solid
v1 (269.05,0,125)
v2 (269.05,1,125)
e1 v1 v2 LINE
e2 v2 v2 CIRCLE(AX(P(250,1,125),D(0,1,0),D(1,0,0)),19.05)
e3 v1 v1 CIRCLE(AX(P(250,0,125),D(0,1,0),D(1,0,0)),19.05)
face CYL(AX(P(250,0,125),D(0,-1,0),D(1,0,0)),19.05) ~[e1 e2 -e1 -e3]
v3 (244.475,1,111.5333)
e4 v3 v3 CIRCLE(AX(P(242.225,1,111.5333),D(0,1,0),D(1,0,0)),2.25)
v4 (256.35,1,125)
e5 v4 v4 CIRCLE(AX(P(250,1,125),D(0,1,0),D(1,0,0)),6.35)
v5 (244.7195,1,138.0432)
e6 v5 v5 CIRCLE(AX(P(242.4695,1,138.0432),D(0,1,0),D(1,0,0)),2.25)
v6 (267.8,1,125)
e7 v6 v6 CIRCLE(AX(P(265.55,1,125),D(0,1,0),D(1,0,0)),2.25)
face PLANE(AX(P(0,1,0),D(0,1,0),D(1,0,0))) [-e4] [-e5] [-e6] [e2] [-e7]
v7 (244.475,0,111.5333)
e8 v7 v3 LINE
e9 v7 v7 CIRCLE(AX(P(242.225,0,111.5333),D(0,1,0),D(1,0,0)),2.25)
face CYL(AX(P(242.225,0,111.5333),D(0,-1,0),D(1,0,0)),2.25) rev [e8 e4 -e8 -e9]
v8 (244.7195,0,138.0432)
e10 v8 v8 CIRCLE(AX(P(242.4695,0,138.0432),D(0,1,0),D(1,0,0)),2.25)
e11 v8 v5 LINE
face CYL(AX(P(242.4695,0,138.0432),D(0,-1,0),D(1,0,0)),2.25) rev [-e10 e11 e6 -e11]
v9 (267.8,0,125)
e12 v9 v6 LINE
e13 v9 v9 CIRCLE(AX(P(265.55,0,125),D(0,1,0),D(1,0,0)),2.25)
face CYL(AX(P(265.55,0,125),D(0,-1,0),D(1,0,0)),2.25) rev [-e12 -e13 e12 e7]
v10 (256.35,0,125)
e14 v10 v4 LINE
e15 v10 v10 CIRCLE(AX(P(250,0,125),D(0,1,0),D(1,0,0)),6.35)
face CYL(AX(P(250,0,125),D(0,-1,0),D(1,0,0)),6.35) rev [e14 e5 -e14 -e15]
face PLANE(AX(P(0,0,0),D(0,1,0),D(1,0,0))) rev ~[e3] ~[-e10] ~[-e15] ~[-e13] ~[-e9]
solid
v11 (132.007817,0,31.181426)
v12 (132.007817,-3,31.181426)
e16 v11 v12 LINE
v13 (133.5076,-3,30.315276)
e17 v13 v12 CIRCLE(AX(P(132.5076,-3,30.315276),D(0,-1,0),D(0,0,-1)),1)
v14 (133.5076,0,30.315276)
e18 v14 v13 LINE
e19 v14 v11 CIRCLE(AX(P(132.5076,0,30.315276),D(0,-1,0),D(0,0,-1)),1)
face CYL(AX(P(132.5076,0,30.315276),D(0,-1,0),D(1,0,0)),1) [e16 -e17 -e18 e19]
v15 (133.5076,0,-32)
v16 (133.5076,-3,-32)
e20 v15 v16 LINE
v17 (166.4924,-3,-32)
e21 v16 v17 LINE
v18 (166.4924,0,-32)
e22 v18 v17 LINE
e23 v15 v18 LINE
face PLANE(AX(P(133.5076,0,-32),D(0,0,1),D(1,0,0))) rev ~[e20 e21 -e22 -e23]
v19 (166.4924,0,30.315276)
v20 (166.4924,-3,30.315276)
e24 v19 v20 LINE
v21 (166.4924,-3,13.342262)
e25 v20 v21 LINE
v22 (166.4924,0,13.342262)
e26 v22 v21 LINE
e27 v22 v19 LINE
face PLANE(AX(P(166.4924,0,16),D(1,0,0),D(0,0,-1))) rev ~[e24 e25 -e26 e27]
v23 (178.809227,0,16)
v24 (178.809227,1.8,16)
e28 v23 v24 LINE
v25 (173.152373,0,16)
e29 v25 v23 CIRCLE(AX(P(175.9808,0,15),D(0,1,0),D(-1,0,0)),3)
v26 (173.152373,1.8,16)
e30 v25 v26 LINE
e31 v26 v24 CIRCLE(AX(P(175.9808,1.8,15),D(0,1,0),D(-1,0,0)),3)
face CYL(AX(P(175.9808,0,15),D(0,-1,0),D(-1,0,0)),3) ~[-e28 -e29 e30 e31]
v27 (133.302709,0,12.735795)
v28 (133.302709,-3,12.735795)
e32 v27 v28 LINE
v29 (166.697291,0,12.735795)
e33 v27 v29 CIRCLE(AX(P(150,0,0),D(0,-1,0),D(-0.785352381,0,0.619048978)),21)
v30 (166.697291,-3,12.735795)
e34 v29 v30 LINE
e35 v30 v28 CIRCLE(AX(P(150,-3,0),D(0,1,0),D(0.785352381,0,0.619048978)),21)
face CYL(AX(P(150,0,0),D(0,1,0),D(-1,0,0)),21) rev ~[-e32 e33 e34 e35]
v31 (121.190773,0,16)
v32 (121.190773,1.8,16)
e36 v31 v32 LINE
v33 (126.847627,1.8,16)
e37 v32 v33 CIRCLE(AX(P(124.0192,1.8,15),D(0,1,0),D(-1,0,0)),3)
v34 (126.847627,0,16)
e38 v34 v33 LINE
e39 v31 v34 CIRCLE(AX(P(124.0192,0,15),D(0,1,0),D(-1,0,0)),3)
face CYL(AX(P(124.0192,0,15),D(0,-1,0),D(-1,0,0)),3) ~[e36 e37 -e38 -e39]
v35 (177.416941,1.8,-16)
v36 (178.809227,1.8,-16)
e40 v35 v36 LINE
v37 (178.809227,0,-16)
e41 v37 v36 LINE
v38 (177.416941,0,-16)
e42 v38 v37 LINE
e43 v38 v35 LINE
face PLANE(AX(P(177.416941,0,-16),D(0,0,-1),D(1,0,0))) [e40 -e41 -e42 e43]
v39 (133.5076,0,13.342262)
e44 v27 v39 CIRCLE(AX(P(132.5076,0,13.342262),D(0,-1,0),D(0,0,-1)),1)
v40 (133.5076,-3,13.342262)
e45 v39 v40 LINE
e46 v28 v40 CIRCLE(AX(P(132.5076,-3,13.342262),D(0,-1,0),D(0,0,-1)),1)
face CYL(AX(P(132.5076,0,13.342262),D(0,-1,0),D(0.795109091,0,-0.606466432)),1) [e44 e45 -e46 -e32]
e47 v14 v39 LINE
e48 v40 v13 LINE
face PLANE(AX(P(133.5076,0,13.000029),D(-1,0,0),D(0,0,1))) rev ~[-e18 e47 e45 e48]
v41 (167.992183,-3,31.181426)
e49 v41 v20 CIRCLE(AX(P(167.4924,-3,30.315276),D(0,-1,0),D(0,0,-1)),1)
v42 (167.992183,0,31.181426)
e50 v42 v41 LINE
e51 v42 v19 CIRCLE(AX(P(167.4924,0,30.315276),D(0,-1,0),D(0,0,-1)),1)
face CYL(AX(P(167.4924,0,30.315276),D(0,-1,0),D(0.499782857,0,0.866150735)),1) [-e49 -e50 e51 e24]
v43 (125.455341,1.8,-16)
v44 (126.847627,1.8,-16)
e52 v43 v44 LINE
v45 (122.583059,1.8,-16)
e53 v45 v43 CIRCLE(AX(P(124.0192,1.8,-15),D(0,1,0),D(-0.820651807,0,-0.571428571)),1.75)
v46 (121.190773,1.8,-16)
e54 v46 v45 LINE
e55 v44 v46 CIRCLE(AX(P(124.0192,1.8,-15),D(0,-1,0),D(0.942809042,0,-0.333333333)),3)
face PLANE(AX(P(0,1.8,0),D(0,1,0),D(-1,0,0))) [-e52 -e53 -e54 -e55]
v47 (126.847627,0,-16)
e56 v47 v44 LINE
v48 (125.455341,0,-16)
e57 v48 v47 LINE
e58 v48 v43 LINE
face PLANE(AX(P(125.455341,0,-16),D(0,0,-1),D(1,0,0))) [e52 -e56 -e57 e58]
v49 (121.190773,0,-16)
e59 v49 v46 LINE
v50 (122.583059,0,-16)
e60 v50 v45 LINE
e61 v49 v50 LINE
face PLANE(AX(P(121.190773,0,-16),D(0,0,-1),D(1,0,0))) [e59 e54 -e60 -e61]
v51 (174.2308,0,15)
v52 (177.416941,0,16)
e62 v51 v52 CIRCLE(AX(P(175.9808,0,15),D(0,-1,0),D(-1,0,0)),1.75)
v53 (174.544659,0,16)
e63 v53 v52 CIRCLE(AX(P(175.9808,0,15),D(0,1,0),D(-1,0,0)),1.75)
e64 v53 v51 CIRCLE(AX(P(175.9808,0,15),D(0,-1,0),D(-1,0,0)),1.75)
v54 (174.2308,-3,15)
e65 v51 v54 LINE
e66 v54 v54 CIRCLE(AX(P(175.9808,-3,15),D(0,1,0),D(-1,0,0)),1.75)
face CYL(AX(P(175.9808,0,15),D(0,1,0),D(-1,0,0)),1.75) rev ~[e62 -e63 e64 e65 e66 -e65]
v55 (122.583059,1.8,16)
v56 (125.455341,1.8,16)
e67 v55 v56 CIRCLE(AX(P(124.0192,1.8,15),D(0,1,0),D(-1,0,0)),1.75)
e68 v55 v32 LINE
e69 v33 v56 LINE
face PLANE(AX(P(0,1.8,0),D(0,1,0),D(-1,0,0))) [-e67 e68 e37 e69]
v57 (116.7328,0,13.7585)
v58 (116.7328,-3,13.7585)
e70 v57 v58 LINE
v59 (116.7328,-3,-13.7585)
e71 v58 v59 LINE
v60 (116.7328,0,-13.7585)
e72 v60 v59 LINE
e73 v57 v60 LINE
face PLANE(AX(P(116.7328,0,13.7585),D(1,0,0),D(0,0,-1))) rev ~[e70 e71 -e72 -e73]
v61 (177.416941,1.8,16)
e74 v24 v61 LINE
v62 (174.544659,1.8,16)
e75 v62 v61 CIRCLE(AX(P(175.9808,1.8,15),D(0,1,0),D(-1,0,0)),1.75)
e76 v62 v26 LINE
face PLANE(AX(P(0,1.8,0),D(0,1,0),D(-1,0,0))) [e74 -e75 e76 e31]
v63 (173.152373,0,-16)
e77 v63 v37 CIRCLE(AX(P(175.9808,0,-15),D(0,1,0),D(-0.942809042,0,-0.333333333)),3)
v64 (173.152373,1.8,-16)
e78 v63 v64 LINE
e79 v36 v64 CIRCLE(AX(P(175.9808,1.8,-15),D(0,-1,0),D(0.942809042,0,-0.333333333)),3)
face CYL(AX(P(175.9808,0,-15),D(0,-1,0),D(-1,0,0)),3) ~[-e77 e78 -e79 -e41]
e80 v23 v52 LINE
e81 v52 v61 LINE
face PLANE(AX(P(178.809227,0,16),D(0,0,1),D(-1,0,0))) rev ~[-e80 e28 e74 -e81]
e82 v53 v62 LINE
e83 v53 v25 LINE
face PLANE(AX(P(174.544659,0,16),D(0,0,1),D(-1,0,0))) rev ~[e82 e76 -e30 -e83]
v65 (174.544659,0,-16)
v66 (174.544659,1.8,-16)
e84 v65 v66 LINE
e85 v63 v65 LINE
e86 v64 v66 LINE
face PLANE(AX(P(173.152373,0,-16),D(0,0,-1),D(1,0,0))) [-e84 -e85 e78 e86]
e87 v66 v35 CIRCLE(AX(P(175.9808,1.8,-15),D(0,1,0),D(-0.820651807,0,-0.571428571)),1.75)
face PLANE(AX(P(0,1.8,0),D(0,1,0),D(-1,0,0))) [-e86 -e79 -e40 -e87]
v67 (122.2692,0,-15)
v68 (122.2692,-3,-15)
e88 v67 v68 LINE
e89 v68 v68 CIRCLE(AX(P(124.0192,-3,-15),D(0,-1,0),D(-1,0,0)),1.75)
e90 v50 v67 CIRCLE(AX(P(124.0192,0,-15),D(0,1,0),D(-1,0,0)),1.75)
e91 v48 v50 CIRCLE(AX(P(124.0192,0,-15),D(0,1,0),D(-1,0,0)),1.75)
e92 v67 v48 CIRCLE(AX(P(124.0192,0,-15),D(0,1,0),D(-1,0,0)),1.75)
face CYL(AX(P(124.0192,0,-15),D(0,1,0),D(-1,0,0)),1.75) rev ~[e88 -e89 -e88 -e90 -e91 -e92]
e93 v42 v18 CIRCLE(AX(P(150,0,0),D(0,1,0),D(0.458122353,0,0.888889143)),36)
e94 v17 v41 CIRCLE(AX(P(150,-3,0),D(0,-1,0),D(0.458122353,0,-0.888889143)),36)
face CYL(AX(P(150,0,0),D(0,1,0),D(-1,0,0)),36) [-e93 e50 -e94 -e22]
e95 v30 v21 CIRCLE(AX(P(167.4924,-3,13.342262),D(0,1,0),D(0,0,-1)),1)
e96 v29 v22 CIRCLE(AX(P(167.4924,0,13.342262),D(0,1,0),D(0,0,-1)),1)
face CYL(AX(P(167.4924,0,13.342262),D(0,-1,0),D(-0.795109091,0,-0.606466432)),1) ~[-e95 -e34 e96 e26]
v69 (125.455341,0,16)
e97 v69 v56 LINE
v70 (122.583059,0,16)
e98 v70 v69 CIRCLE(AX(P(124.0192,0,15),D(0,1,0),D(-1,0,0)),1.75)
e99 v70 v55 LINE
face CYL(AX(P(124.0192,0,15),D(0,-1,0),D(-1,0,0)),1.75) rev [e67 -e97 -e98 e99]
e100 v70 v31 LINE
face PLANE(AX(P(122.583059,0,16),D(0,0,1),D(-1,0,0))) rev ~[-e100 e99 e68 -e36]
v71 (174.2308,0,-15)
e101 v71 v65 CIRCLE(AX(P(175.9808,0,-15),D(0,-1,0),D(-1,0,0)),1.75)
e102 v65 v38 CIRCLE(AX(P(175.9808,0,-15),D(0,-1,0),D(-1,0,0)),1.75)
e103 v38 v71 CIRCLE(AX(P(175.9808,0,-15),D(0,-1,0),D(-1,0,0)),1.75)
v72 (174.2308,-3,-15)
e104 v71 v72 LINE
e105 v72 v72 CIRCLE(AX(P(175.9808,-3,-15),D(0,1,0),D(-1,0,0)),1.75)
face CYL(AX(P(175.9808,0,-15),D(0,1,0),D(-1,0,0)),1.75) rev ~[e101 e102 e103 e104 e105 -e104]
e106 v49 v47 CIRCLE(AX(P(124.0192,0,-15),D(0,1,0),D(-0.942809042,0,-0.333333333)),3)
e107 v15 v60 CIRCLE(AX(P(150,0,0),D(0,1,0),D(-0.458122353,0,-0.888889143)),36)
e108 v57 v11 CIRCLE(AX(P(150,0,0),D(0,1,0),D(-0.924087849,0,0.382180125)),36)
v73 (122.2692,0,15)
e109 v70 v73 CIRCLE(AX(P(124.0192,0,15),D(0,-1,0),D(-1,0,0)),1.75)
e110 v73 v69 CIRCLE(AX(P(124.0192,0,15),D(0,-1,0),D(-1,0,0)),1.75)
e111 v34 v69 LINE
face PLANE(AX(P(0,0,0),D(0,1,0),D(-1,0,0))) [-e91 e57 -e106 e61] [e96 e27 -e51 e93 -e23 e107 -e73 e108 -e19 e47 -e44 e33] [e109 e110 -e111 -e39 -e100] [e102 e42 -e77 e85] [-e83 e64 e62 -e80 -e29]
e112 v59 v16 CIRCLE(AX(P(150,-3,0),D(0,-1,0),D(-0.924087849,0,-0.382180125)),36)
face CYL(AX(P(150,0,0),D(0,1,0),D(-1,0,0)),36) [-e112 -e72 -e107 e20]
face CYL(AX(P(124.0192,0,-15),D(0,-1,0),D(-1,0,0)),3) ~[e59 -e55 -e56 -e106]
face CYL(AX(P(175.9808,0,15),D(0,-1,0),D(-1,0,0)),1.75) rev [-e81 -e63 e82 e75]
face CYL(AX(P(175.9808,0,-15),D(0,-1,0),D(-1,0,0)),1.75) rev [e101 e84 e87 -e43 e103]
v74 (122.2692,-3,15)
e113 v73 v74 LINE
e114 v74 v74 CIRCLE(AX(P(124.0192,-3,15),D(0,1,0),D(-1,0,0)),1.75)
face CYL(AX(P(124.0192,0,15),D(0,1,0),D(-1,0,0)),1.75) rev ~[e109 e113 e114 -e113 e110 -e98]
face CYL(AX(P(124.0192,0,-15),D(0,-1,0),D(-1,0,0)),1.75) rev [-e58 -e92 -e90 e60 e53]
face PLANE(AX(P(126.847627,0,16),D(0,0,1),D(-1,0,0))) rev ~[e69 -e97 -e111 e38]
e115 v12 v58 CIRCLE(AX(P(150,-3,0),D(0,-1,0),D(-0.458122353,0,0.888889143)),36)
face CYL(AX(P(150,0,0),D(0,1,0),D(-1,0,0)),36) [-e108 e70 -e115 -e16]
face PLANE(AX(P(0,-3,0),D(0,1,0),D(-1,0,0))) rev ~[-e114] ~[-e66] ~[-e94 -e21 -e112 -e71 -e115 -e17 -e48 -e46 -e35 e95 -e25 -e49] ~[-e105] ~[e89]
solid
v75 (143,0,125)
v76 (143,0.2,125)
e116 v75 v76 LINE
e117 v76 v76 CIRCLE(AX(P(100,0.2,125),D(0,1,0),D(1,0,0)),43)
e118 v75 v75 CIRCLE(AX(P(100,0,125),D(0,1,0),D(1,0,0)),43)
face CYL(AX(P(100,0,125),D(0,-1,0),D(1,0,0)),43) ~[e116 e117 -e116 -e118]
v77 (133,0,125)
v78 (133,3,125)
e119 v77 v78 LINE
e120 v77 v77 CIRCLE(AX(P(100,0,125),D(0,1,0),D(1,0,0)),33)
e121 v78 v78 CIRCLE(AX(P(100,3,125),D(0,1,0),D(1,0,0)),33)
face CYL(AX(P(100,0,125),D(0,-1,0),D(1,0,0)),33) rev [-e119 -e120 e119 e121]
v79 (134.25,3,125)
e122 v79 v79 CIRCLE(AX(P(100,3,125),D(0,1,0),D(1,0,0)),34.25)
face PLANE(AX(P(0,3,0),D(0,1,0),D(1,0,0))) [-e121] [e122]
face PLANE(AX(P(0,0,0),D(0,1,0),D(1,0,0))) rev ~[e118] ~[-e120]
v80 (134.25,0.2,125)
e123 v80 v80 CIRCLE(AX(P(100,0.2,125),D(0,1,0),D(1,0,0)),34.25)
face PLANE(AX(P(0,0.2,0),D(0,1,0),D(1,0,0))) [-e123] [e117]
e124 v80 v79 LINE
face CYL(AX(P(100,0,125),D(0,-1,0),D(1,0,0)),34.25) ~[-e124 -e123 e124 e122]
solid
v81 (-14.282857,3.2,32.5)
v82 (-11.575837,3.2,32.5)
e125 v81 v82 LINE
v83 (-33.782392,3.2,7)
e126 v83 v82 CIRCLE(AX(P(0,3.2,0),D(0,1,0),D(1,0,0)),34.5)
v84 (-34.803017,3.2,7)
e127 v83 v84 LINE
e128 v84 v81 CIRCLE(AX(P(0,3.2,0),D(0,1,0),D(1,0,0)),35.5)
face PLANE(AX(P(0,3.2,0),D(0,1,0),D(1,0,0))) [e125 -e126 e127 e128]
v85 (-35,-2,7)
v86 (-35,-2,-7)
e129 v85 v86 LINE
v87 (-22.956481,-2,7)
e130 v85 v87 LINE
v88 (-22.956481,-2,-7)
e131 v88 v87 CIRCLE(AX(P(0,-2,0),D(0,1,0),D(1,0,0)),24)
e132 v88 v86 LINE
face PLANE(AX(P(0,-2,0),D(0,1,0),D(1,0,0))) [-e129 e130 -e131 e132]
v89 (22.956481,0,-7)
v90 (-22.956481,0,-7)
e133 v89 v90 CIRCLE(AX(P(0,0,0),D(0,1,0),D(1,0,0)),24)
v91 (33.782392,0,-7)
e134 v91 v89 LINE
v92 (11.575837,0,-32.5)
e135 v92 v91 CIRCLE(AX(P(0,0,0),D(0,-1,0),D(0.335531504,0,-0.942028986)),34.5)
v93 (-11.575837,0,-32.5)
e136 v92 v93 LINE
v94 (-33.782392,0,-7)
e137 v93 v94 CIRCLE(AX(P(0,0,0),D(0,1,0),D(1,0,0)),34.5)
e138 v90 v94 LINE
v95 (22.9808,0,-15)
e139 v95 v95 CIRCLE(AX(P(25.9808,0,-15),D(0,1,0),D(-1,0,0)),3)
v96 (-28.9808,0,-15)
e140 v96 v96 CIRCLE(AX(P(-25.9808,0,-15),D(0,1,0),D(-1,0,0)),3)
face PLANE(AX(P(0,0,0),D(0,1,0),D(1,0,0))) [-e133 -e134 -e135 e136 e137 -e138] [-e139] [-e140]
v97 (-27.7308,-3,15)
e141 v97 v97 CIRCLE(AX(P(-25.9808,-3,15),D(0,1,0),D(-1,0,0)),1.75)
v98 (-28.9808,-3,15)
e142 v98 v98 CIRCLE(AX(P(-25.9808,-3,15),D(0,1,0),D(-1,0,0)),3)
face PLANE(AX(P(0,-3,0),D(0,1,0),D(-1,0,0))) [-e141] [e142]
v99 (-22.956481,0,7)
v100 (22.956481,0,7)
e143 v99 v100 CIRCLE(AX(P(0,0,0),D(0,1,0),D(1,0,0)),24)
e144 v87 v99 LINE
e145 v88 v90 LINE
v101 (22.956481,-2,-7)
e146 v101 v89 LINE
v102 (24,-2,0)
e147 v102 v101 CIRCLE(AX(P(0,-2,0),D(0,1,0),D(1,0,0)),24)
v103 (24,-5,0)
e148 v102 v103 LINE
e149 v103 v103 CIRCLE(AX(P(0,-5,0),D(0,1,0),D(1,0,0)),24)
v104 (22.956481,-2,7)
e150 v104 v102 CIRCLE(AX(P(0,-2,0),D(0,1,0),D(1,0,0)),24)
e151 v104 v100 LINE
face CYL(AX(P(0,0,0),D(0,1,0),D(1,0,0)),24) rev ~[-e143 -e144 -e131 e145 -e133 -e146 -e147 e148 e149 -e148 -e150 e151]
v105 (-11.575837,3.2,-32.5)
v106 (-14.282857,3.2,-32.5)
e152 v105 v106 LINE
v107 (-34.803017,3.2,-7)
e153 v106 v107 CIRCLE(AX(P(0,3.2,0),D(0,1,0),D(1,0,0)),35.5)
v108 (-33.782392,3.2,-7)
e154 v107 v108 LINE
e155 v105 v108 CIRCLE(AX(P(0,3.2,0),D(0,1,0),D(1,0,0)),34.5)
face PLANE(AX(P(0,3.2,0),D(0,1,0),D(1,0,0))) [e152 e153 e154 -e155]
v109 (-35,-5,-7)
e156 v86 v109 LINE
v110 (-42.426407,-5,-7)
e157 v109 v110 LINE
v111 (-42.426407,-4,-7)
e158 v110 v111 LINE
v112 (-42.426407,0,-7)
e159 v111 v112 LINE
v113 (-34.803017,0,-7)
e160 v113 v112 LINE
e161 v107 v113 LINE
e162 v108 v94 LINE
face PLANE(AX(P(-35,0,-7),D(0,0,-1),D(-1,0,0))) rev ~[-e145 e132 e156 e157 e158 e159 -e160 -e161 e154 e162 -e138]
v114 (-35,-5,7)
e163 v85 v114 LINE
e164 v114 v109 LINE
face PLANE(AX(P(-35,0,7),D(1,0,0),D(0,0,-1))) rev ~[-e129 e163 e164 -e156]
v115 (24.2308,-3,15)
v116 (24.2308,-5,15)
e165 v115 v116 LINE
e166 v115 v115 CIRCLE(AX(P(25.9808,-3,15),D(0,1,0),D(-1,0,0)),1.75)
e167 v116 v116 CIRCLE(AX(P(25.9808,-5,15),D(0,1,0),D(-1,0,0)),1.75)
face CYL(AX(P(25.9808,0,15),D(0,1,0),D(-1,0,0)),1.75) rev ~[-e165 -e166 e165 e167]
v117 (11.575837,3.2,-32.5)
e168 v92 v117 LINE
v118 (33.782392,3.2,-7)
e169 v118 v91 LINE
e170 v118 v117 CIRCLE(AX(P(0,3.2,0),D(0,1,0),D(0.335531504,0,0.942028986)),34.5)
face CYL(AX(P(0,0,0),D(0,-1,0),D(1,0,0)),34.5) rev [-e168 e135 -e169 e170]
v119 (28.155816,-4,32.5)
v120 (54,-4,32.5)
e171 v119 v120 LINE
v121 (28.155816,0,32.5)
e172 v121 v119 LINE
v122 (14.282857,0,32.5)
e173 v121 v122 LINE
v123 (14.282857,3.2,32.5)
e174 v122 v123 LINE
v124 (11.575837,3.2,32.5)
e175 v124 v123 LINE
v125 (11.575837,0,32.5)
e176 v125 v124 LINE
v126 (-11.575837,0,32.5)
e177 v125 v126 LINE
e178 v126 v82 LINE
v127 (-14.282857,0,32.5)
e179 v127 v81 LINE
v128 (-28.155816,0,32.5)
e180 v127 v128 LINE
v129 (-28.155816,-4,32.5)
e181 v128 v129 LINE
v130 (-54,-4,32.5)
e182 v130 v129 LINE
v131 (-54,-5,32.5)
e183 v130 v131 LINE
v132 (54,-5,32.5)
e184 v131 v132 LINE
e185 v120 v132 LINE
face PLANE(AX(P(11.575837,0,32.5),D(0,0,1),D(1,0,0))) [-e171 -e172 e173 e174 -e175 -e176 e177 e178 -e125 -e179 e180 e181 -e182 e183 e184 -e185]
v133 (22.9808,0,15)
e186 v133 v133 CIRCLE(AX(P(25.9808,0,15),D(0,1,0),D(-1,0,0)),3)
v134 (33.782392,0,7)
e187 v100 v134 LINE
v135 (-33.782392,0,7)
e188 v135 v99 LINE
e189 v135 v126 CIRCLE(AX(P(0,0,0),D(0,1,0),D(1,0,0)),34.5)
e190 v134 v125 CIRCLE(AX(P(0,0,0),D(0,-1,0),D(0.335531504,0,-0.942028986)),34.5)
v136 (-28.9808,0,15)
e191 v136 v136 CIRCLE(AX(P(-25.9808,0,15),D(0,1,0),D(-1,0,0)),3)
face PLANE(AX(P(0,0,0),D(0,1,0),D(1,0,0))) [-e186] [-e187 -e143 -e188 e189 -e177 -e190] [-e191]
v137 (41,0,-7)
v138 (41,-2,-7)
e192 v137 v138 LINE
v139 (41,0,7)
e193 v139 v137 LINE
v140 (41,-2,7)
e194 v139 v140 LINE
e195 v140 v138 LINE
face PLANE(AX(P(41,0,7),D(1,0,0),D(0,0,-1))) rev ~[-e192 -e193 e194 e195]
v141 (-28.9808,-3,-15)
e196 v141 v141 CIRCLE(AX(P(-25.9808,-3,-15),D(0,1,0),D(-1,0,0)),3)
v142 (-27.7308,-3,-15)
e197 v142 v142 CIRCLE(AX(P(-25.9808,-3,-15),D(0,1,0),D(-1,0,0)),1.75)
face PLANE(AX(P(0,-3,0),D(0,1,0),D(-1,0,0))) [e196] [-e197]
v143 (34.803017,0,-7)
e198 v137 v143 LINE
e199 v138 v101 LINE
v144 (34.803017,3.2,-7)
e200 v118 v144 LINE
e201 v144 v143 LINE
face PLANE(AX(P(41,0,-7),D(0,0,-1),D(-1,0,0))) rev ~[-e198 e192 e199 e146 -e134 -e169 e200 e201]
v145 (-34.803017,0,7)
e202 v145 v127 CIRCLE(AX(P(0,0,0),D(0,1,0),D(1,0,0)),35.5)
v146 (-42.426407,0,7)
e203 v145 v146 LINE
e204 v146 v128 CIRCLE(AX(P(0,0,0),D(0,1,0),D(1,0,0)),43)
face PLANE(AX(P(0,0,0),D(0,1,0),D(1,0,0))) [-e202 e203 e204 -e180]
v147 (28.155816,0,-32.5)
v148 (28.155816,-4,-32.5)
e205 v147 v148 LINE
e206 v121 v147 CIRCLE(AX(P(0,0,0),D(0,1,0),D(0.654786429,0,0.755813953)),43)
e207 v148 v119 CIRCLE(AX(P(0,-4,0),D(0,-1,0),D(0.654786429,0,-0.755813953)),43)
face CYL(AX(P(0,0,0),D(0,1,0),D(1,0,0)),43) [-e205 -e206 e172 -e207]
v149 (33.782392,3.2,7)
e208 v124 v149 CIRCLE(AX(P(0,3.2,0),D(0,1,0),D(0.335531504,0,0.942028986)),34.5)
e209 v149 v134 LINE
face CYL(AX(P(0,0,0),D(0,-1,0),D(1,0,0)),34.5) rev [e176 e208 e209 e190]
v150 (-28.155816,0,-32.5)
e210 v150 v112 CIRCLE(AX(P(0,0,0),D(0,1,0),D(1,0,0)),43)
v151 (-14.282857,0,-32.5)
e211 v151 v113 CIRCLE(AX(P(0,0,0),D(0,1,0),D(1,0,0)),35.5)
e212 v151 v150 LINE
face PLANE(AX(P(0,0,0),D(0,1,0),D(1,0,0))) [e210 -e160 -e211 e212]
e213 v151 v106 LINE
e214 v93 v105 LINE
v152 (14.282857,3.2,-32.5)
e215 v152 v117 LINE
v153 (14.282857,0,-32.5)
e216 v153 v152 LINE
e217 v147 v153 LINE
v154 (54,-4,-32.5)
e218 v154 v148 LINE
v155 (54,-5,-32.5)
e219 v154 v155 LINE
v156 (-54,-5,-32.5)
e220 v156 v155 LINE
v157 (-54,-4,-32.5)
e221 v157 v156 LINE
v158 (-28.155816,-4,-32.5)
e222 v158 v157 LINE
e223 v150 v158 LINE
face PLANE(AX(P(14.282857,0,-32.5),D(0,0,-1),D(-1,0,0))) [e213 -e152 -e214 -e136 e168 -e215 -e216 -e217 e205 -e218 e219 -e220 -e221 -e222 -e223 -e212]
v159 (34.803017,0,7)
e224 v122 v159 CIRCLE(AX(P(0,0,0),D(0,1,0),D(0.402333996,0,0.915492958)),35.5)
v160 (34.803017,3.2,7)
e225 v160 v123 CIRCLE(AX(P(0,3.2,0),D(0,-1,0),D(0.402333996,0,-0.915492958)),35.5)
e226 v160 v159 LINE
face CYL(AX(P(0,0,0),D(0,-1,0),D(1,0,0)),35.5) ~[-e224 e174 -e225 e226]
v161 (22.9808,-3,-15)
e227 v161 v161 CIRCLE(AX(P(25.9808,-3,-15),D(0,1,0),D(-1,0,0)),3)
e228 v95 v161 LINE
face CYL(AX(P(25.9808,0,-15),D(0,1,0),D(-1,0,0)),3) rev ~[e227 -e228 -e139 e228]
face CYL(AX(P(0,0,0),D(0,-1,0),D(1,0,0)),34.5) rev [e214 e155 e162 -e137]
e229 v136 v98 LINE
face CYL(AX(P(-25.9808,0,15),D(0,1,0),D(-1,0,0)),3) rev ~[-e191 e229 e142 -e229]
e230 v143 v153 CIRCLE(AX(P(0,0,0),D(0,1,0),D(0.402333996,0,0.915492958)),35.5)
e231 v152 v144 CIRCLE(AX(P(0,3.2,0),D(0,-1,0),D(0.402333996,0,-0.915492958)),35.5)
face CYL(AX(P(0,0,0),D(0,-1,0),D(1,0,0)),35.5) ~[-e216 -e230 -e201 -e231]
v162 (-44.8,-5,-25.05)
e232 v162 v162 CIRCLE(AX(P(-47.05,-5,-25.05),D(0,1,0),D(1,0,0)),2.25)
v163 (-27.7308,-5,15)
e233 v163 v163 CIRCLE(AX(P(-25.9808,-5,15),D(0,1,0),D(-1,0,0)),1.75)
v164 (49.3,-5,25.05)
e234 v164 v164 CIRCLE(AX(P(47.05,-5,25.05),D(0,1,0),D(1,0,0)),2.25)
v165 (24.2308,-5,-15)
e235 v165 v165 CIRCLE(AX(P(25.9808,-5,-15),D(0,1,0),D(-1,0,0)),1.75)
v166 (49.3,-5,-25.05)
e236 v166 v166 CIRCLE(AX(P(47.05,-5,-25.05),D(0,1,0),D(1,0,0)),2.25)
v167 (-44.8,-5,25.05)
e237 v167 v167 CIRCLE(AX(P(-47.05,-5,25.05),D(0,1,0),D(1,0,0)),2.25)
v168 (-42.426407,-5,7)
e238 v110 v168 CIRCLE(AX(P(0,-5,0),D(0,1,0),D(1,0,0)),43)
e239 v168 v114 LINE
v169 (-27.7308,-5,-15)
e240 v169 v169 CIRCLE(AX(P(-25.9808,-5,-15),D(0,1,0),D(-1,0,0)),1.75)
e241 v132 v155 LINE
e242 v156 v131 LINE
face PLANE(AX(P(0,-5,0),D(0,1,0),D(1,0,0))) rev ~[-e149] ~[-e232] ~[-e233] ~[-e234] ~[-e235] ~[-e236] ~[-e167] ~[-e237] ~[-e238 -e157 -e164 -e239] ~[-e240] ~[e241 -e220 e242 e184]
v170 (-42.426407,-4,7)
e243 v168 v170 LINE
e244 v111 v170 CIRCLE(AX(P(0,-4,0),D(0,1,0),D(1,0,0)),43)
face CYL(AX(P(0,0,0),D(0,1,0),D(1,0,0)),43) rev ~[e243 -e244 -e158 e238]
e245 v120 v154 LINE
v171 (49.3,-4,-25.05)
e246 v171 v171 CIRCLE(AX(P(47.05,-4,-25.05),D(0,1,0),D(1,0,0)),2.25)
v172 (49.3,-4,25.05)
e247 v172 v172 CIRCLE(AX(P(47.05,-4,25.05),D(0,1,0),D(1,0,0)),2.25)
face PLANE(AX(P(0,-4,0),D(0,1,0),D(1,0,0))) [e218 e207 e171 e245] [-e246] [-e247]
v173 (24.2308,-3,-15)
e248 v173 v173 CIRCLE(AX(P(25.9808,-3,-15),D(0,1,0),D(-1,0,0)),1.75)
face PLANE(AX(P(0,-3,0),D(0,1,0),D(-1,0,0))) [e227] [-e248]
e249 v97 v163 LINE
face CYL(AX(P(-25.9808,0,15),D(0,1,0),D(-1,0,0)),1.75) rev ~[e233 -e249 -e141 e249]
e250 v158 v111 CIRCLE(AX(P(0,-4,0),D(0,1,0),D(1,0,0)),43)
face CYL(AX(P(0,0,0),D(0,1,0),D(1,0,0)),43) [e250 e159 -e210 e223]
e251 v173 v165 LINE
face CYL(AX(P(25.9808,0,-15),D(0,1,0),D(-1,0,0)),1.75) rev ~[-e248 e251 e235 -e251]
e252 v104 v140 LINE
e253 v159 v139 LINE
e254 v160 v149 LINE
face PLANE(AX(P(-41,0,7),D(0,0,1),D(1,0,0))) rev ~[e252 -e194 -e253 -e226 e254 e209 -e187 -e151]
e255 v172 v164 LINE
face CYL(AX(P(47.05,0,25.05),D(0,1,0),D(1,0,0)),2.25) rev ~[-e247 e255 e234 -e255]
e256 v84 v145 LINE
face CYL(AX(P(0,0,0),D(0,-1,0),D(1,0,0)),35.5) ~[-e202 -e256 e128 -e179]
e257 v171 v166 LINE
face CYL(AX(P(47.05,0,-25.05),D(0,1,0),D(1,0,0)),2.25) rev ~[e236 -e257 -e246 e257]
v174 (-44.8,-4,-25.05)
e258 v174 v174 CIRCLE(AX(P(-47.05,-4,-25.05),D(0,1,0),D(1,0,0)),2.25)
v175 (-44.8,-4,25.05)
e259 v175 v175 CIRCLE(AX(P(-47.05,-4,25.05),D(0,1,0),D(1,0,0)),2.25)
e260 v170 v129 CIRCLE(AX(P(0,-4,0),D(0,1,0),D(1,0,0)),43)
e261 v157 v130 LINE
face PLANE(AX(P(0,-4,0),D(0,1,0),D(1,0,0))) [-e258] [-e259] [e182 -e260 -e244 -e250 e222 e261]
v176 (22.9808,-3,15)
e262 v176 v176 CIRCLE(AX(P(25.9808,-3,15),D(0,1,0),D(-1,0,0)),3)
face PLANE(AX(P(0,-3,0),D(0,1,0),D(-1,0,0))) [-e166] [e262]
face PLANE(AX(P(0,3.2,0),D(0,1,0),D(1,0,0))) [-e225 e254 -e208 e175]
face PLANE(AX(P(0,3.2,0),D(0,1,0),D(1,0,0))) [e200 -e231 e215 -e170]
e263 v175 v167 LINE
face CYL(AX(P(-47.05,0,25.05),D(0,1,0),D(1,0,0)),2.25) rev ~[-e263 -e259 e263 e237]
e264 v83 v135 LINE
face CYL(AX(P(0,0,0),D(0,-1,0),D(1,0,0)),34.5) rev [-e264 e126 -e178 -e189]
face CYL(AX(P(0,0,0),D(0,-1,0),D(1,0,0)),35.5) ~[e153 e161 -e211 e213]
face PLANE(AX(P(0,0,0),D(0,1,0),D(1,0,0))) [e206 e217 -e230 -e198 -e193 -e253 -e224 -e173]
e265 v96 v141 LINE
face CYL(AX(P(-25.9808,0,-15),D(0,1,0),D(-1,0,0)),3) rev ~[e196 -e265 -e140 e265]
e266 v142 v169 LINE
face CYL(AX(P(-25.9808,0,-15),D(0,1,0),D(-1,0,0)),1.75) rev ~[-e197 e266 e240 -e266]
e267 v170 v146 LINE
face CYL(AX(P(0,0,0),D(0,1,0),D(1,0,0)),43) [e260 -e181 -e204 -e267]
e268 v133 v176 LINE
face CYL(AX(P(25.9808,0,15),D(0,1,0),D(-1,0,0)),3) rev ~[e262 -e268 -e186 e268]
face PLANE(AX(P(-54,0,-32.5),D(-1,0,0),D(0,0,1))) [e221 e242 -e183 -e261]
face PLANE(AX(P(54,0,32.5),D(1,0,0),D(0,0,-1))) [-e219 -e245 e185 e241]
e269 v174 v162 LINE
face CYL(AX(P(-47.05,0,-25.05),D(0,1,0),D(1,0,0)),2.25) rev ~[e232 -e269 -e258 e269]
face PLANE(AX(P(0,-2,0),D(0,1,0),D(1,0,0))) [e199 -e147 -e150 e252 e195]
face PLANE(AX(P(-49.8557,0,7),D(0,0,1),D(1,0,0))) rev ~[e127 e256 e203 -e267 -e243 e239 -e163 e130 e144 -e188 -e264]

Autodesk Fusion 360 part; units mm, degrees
sketch "Esquisse1" plane through (0, 0, 0) normal (0, 1, 0) x (1, 0, 0)
  circle A0 centre (0, 0) radius 35.5
  circle A1 centre (0, 0) radius 34.5
  circle A2 centre (0, 0) radius 24
  circle A3 centre (0, 0) radius 43
  line L0 (-54, -32.5) -> (54, -32.5)
  line L1 (54, -32.5) -> (54, 32.5)
  line L2 (54, 32.5) -> (-54, 32.5)
  line L3 (-54, 32.5) -> (-54, -32.5)
  line L4 (-54, -32.5) -> (54, 32.5) construction
  line L5 (54, -32.5) -> (-54, 32.5) construction
  line L6 (-54, -32.5) -> (-44.8, -32.5) construction
  line L7 (-44.8, -32.5) -> (-44.8, -22.8) construction
  line L8 (-44.8, -22.8) -> (-54, -22.8) construction
  circle A4 centre (-47.05, -25.05) radius 2.25
  line L9 (-54, 0) -> (54, 0) construction
  line L10 (0, 32.5) -> (0, -32.5) construction
  circle A5 centre (-47.05, 25.05) radius 2.25
  circle A6 centre (47.05, 25.05) radius 2.25
  circle A7 centre (47.05, -25.05) radius 2.25
  dimension "d1" = 71
  dimension "d2" = 69
  dimension "d3" = 48
  dimension "d4" = 86
  dimension "d30" = 65
  dimension "d85" = 108
  dimension "d86" = 9.2
  dimension "d87" = 9.7
  dimension "d88" = 2.25
extrude "Extrusion1" add sketch "Esquisse1" against normal blind 5 contours A0 A1 L0 L2 | A0 A3 L0 L2 | A0 A1 L0 L2 | A0 A3 L0 L2 | A1 L0 L2 makes body 1
extrude "Extrusion2" add sketch "Esquisse1" along normal blind 3.2 contours A0 A1 L0 L2 | A0 A1 L0 L2 bodies 1
sketch "Esquisse2" plane through (0, 0, 0) normal (0, 1, 0) x (1, 0, 0)
  line L0 (41, 7) -> (-41, 7)
  line L1 (-41, 7) -> (-41, -7)
  line L2 (-41, -7) -> (41, -7)
  line L3 (41, -7) -> (41, 7)
  line L4 (41, 7) -> (-41, -7) construction
  line L5 (-41, 7) -> (41, -7) construction
  dimension "d9" = 14
extrude "Extrusion3" cut sketch "Esquisse2" against normal blind 2 bodies 1
extrude "Extrusion4" cut sketch "Esquisse2" along normal blind 4 bodies 1
sketch "Esquisse3" plane through (0, 0, 0) normal (0, 1, 0) x (1, 0, 0)
  line L0 (-49.8557, -7) -> (-35, -7)
  line L1 (-35, -7) -> (-35, 7)
  line L2 (-35, 7) -> (-49.8557, 7)
  line L3 (-49.8557, 7) -> (-49.8557, -7)
extrude "Extrusion5" cut sketch "Esquisse3" against normal blind 5 bodies 1
sketch "Esquisse5" plane through (0, 0, 0) normal (0, 1, 0) x (-1, 0, 0)
  line L0 (22.9565, 7) -> (33.7824, 7)
  arc A0 (33.7824, 7) -> (11.5758, 32.5) centre (0, 0) ccw
  line L1 (-33.7824, 7) -> (-22.9565, 7)
  arc A1 (22.9565, 7) -> (-22.9565, 7) centre (0, 0) ccw
  line L2 (0, 24) -> (0, 30) construction
  line L3 (0, -22.5) -> (0, -28.5) construction
  line L4 (11.5758, 32.5) -> (-11.5758, 32.5)
  arc A2 (-11.5758, 32.5) -> (-33.7824, 7) centre (0, 0) ccw
  line L5 (0, 0) -> (25.9808, -15) construction
  line L6 (0, 0) -> (30, 0) construction
  line L7 (0, 0) -> (25.9808, 15) construction
  line L8 (0, 0) -> (30, 0) construction
  line L9 (0, 0) -> (-25.9808, 15) construction
  line L10 (0, 0) -> (-30, 0) construction
  line L11 (0, 0) -> (-25.9808, -15) construction
  line L12 (0, 0) -> (30, 0) construction
  circle A3 centre (25.9808, -15) radius 1.75
  circle A4 centre (25.9808, -15) radius 3
  circle A5 centre (25.9808, 15) radius 1.75
  circle A6 centre (25.9808, 15) radius 3
  circle A7 centre (-25.9808, -15) radius 1.75
  circle A8 centre (-25.9808, -15) radius 3
  circle A9 centre (-25.9808, 15) radius 1.75
  circle A10 centre (-25.9808, 15) radius 3
  circle A11 centre (-150, 0) radius 30 construction
  line L13 (-150, 0) -> (-124.0192, -15) construction
  line L14 (-150, 0) -> (-120, 0) construction
  line L15 (-150, 0) -> (-124.0192, 15) construction
  line L16 (-150, 0) -> (-120, 0) construction
  line L17 (-150, 0) -> (-175.9808, -15) construction
  line L18 (-150, 0) -> (-120, 0) construction
  line L19 (-150, 0) -> (-175.9808, 15) construction
  line L20 (-150, 0) -> (-120, 0) construction
  circle A12 centre (-124.0192, -15) radius 1.75
  circle A13 centre (-175.9808, -15) radius 1.75
  circle A14 centre (-124.0192, 15) radius 1.75
  circle A15 centre (-175.9808, 15) radius 1.75
  circle A16 centre (-150, 0) radius 21
  circle A17 centre (-150, 0) radius 36
  line L21 (-193, 32) -> (-107, 32)
  line L22 (-107, 32) -> (-107, -32)
  line L23 (-107, -32) -> (-193, -32)
  line L24 (-193, -32) -> (-193, 32)
  line L25 (-193, 32) -> (-107, -32) construction
  line L26 (-107, 32) -> (-193, -32) construction
  line L27 (-166.4924, -32) -> (-133.5076, -32)
  line L28 (-133.5076, -32) -> (-133.5076, 32)
  line L29 (-133.5076, 32) -> (-166.4924, 32)
  line L30 (-166.4924, 32) -> (-166.4924, -32)
  line L31 (-166.4924, -32) -> (-133.5076, 32) construction
  line L32 (-133.5076, -32) -> (-166.4924, 32) construction
  line L33 (-116.7328, -13.7585) -> (-111.2672, -13.7585)
  line L34 (-111.2672, -13.7585) -> (-111.2672, 13.7585)
  line L35 (-111.2672, 13.7585) -> (-116.7328, 13.7585)
  line L36 (-116.7328, 13.7585) -> (-116.7328, -13.7585)
  line L37 (-116.7328, -13.7585) -> (-111.2672, 13.7585) construction
  line L38 (-111.2672, -13.7585) -> (-116.7328, 13.7585) construction
  circle A18 centre (-124.0192, -15) radius 3
  circle A19 centre (-124.0192, 15) radius 3
  circle A20 centre (-175.9808, -15) radius 3
  circle A21 centre (-175.9808, 15) radius 3
  line L39 (-194, 16) -> (-106, 16)
  line L40 (-106, 16) -> (-106, -16)
  line L41 (-106, -16) -> (-194, -16)
  line L42 (-194, -16) -> (-194, 16)
  line L43 (-194, 16) -> (-106, -16) construction
  line L44 (-106, 16) -> (-194, -16) construction
  point P0 (-150, 0)
  point P1 (-150, 0)
  point P2 (-150, 0)
  point P3 (-150, 0)
  point P4 (-114, 0)
  point P5 (-150, 0)
  dimension "d31" = 30
  dimension "d32" = 30
  dimension "d33" = 30
  dimension "d34" = 30
  dimension "d35" = 30
  dimension "d36" = 30
  dimension "d37" = 150
  dimension "d38" = 30
  dimension "d39" = 3.5
  dimension "d40" = 6
  dimension "d41" = 3.5
  dimension "d42" = 6
  dimension "d43" = 3.5
  dimension "d44" = 6
  dimension "d45" = 3.5
  dimension "d46" = 6
  dimension "d51" = 60
  dimension "d52" = 30
  dimension "d54" = 30
  dimension "d56" = 150
  dimension "d58" = 150
  dimension "d60" = 3.5
  dimension "d61" = 3.5
  dimension "d62" = 3.5
  dimension "d63" = 3.5
  dimension "d66" = 42
  dimension "d69" = 72
  dimension "d72" = 86
  dimension "d73" = 64
  dimension "d78" = 6
  dimension "d79" = 6
  dimension "d80" = 6
  dimension "d81" = 6
  dimension "d82" = 32
extrude "Extrusion10" cut sketch "Esquisse5" against normal blind 6 contours A3 | A5 | A7 | A9 bodies 1
extrude "Extrusion11" cut sketch "Esquisse5" against normal blind 3 contours A4 | A6 | A8 | A10 bodies 1
extrude "Extrusion12" add sketch "Esquisse5" against normal blind 3 separate body contours A12 A18 L41 | A12 A18 L41 | A16 A17 L28 L36 A18 A19 L39 L41 | A17 L28 A18 L41 | A16 L28 L41 | A16 L23 L27 L28 L30 L41 | A17 L30 A20 L41 | A16 L30 L41 | A16 A17 L30 A20 A21 L39 L41 | A17 L28 A19 L39 | A17 L30 A21 L39 | A13 A20 L41 | A13 A20 L41 | A14 A19 L39 | A14 A19 L39 | A15 A21 L39 | A15 A21 L39 makes body 2
fillet "Congé1" radius 1 2 edges at (133.5076, -1.5, 32) (133.5076, -1.5, 13) on bodies 2
fillet "Congé2" radius 1 2 edges at (166.4924, -1.5, 13) (166.4924, -1.5, 32) on bodies 2
sketch "Esquisse6" plane through (0, 0, 0) normal (0, 1, 0) x (1, 0, 0)
extrude "Extrusion13" add sketch "Esquisse5" along normal blind 1.8 contours A12 A18 L41 | A13 A20 L41 | A14 A19 L39 | A15 A21 L39 picked at (-125.6362, -12.9921) picked at (-177.5977, -12.9921) picked at (-126.1911, 16.388) picked at (-178.1526, 16.388) bodies 2
extrude "Extrusion14" add sketch "Esquisse1" against normal blind 5 contours A3 L0 L1 L2 | A3 L0 L2 L3 bodies 1
extrude "Extrusion15" cut sketch "Esquisse1" against normal blind 4 contours A3 L0 L1 L2 | A3 L0 L2 L3 bodies 1
sketch "Esquisse7" plane through (0, 0, 0) normal (0, 1, 0) x (1, 0, 0)
  circle A0 centre (100, -125) radius 43
  circle A1 centre (100, -125) radius 34.25
  circle A2 centre (100, -125) radius 33
  dimension "d93" = 86
  dimension "d94" = 68.5
  dimension "d95" = 66
extrude "Extrusion16" add sketch "Esquisse7" along normal blind 3 separate body contours A1 makes body 3
extrude "Extrusion17" add sketch "Esquisse7" along normal blind 0.2 contours A0 bodies 3
sketch "Esquisse8" plane through (0, 0, 0) normal (0, 1, 0) x (1, 0, 0)
  circle A0 centre (250, -125) radius 6.35
  circle A1 centre (250, -125) radius 19.05
  line L0 (250, -125) -> (275, -125) construction
  line L1 (250, -125) -> (238.2201, -104.5966) construction
  line L2 (250, -125) -> (273.5599, -125) construction
  line L3 (250, -125) -> (238.1467, -145.5305) construction
  line L4 (250, -125) -> (273.7065, -125) construction
  line L5 (240.7195, -141.0743) -> (242.4695, -138.0432) construction
  line L6 (240.475, -108.5022) -> (242.225, -111.5333) construction
  line L7 (269.05, -125) -> (265.55, -125) construction
  circle A2 centre (242.225, -111.5333) radius 2.25
  circle A3 centre (265.55, -125) radius 2.25
  circle A4 centre (242.4695, -138.0432) radius 2.25
  dimension "d100" = 12.7
  dimension "d101" = 38.1
  dimension "d102" = 120
  dimension "d103" = 120
  dimension "d104" = 3.5
  dimension "d105" = 3.5
  dimension "d106" = 3.5
  dimension "d107" = 4.5
  dimension "d108" = 4.5
  dimension "d109" = 4.5
extrude "Extrusion18" add sketch "Esquisse8" along normal blind 1 separate body makes body 4
